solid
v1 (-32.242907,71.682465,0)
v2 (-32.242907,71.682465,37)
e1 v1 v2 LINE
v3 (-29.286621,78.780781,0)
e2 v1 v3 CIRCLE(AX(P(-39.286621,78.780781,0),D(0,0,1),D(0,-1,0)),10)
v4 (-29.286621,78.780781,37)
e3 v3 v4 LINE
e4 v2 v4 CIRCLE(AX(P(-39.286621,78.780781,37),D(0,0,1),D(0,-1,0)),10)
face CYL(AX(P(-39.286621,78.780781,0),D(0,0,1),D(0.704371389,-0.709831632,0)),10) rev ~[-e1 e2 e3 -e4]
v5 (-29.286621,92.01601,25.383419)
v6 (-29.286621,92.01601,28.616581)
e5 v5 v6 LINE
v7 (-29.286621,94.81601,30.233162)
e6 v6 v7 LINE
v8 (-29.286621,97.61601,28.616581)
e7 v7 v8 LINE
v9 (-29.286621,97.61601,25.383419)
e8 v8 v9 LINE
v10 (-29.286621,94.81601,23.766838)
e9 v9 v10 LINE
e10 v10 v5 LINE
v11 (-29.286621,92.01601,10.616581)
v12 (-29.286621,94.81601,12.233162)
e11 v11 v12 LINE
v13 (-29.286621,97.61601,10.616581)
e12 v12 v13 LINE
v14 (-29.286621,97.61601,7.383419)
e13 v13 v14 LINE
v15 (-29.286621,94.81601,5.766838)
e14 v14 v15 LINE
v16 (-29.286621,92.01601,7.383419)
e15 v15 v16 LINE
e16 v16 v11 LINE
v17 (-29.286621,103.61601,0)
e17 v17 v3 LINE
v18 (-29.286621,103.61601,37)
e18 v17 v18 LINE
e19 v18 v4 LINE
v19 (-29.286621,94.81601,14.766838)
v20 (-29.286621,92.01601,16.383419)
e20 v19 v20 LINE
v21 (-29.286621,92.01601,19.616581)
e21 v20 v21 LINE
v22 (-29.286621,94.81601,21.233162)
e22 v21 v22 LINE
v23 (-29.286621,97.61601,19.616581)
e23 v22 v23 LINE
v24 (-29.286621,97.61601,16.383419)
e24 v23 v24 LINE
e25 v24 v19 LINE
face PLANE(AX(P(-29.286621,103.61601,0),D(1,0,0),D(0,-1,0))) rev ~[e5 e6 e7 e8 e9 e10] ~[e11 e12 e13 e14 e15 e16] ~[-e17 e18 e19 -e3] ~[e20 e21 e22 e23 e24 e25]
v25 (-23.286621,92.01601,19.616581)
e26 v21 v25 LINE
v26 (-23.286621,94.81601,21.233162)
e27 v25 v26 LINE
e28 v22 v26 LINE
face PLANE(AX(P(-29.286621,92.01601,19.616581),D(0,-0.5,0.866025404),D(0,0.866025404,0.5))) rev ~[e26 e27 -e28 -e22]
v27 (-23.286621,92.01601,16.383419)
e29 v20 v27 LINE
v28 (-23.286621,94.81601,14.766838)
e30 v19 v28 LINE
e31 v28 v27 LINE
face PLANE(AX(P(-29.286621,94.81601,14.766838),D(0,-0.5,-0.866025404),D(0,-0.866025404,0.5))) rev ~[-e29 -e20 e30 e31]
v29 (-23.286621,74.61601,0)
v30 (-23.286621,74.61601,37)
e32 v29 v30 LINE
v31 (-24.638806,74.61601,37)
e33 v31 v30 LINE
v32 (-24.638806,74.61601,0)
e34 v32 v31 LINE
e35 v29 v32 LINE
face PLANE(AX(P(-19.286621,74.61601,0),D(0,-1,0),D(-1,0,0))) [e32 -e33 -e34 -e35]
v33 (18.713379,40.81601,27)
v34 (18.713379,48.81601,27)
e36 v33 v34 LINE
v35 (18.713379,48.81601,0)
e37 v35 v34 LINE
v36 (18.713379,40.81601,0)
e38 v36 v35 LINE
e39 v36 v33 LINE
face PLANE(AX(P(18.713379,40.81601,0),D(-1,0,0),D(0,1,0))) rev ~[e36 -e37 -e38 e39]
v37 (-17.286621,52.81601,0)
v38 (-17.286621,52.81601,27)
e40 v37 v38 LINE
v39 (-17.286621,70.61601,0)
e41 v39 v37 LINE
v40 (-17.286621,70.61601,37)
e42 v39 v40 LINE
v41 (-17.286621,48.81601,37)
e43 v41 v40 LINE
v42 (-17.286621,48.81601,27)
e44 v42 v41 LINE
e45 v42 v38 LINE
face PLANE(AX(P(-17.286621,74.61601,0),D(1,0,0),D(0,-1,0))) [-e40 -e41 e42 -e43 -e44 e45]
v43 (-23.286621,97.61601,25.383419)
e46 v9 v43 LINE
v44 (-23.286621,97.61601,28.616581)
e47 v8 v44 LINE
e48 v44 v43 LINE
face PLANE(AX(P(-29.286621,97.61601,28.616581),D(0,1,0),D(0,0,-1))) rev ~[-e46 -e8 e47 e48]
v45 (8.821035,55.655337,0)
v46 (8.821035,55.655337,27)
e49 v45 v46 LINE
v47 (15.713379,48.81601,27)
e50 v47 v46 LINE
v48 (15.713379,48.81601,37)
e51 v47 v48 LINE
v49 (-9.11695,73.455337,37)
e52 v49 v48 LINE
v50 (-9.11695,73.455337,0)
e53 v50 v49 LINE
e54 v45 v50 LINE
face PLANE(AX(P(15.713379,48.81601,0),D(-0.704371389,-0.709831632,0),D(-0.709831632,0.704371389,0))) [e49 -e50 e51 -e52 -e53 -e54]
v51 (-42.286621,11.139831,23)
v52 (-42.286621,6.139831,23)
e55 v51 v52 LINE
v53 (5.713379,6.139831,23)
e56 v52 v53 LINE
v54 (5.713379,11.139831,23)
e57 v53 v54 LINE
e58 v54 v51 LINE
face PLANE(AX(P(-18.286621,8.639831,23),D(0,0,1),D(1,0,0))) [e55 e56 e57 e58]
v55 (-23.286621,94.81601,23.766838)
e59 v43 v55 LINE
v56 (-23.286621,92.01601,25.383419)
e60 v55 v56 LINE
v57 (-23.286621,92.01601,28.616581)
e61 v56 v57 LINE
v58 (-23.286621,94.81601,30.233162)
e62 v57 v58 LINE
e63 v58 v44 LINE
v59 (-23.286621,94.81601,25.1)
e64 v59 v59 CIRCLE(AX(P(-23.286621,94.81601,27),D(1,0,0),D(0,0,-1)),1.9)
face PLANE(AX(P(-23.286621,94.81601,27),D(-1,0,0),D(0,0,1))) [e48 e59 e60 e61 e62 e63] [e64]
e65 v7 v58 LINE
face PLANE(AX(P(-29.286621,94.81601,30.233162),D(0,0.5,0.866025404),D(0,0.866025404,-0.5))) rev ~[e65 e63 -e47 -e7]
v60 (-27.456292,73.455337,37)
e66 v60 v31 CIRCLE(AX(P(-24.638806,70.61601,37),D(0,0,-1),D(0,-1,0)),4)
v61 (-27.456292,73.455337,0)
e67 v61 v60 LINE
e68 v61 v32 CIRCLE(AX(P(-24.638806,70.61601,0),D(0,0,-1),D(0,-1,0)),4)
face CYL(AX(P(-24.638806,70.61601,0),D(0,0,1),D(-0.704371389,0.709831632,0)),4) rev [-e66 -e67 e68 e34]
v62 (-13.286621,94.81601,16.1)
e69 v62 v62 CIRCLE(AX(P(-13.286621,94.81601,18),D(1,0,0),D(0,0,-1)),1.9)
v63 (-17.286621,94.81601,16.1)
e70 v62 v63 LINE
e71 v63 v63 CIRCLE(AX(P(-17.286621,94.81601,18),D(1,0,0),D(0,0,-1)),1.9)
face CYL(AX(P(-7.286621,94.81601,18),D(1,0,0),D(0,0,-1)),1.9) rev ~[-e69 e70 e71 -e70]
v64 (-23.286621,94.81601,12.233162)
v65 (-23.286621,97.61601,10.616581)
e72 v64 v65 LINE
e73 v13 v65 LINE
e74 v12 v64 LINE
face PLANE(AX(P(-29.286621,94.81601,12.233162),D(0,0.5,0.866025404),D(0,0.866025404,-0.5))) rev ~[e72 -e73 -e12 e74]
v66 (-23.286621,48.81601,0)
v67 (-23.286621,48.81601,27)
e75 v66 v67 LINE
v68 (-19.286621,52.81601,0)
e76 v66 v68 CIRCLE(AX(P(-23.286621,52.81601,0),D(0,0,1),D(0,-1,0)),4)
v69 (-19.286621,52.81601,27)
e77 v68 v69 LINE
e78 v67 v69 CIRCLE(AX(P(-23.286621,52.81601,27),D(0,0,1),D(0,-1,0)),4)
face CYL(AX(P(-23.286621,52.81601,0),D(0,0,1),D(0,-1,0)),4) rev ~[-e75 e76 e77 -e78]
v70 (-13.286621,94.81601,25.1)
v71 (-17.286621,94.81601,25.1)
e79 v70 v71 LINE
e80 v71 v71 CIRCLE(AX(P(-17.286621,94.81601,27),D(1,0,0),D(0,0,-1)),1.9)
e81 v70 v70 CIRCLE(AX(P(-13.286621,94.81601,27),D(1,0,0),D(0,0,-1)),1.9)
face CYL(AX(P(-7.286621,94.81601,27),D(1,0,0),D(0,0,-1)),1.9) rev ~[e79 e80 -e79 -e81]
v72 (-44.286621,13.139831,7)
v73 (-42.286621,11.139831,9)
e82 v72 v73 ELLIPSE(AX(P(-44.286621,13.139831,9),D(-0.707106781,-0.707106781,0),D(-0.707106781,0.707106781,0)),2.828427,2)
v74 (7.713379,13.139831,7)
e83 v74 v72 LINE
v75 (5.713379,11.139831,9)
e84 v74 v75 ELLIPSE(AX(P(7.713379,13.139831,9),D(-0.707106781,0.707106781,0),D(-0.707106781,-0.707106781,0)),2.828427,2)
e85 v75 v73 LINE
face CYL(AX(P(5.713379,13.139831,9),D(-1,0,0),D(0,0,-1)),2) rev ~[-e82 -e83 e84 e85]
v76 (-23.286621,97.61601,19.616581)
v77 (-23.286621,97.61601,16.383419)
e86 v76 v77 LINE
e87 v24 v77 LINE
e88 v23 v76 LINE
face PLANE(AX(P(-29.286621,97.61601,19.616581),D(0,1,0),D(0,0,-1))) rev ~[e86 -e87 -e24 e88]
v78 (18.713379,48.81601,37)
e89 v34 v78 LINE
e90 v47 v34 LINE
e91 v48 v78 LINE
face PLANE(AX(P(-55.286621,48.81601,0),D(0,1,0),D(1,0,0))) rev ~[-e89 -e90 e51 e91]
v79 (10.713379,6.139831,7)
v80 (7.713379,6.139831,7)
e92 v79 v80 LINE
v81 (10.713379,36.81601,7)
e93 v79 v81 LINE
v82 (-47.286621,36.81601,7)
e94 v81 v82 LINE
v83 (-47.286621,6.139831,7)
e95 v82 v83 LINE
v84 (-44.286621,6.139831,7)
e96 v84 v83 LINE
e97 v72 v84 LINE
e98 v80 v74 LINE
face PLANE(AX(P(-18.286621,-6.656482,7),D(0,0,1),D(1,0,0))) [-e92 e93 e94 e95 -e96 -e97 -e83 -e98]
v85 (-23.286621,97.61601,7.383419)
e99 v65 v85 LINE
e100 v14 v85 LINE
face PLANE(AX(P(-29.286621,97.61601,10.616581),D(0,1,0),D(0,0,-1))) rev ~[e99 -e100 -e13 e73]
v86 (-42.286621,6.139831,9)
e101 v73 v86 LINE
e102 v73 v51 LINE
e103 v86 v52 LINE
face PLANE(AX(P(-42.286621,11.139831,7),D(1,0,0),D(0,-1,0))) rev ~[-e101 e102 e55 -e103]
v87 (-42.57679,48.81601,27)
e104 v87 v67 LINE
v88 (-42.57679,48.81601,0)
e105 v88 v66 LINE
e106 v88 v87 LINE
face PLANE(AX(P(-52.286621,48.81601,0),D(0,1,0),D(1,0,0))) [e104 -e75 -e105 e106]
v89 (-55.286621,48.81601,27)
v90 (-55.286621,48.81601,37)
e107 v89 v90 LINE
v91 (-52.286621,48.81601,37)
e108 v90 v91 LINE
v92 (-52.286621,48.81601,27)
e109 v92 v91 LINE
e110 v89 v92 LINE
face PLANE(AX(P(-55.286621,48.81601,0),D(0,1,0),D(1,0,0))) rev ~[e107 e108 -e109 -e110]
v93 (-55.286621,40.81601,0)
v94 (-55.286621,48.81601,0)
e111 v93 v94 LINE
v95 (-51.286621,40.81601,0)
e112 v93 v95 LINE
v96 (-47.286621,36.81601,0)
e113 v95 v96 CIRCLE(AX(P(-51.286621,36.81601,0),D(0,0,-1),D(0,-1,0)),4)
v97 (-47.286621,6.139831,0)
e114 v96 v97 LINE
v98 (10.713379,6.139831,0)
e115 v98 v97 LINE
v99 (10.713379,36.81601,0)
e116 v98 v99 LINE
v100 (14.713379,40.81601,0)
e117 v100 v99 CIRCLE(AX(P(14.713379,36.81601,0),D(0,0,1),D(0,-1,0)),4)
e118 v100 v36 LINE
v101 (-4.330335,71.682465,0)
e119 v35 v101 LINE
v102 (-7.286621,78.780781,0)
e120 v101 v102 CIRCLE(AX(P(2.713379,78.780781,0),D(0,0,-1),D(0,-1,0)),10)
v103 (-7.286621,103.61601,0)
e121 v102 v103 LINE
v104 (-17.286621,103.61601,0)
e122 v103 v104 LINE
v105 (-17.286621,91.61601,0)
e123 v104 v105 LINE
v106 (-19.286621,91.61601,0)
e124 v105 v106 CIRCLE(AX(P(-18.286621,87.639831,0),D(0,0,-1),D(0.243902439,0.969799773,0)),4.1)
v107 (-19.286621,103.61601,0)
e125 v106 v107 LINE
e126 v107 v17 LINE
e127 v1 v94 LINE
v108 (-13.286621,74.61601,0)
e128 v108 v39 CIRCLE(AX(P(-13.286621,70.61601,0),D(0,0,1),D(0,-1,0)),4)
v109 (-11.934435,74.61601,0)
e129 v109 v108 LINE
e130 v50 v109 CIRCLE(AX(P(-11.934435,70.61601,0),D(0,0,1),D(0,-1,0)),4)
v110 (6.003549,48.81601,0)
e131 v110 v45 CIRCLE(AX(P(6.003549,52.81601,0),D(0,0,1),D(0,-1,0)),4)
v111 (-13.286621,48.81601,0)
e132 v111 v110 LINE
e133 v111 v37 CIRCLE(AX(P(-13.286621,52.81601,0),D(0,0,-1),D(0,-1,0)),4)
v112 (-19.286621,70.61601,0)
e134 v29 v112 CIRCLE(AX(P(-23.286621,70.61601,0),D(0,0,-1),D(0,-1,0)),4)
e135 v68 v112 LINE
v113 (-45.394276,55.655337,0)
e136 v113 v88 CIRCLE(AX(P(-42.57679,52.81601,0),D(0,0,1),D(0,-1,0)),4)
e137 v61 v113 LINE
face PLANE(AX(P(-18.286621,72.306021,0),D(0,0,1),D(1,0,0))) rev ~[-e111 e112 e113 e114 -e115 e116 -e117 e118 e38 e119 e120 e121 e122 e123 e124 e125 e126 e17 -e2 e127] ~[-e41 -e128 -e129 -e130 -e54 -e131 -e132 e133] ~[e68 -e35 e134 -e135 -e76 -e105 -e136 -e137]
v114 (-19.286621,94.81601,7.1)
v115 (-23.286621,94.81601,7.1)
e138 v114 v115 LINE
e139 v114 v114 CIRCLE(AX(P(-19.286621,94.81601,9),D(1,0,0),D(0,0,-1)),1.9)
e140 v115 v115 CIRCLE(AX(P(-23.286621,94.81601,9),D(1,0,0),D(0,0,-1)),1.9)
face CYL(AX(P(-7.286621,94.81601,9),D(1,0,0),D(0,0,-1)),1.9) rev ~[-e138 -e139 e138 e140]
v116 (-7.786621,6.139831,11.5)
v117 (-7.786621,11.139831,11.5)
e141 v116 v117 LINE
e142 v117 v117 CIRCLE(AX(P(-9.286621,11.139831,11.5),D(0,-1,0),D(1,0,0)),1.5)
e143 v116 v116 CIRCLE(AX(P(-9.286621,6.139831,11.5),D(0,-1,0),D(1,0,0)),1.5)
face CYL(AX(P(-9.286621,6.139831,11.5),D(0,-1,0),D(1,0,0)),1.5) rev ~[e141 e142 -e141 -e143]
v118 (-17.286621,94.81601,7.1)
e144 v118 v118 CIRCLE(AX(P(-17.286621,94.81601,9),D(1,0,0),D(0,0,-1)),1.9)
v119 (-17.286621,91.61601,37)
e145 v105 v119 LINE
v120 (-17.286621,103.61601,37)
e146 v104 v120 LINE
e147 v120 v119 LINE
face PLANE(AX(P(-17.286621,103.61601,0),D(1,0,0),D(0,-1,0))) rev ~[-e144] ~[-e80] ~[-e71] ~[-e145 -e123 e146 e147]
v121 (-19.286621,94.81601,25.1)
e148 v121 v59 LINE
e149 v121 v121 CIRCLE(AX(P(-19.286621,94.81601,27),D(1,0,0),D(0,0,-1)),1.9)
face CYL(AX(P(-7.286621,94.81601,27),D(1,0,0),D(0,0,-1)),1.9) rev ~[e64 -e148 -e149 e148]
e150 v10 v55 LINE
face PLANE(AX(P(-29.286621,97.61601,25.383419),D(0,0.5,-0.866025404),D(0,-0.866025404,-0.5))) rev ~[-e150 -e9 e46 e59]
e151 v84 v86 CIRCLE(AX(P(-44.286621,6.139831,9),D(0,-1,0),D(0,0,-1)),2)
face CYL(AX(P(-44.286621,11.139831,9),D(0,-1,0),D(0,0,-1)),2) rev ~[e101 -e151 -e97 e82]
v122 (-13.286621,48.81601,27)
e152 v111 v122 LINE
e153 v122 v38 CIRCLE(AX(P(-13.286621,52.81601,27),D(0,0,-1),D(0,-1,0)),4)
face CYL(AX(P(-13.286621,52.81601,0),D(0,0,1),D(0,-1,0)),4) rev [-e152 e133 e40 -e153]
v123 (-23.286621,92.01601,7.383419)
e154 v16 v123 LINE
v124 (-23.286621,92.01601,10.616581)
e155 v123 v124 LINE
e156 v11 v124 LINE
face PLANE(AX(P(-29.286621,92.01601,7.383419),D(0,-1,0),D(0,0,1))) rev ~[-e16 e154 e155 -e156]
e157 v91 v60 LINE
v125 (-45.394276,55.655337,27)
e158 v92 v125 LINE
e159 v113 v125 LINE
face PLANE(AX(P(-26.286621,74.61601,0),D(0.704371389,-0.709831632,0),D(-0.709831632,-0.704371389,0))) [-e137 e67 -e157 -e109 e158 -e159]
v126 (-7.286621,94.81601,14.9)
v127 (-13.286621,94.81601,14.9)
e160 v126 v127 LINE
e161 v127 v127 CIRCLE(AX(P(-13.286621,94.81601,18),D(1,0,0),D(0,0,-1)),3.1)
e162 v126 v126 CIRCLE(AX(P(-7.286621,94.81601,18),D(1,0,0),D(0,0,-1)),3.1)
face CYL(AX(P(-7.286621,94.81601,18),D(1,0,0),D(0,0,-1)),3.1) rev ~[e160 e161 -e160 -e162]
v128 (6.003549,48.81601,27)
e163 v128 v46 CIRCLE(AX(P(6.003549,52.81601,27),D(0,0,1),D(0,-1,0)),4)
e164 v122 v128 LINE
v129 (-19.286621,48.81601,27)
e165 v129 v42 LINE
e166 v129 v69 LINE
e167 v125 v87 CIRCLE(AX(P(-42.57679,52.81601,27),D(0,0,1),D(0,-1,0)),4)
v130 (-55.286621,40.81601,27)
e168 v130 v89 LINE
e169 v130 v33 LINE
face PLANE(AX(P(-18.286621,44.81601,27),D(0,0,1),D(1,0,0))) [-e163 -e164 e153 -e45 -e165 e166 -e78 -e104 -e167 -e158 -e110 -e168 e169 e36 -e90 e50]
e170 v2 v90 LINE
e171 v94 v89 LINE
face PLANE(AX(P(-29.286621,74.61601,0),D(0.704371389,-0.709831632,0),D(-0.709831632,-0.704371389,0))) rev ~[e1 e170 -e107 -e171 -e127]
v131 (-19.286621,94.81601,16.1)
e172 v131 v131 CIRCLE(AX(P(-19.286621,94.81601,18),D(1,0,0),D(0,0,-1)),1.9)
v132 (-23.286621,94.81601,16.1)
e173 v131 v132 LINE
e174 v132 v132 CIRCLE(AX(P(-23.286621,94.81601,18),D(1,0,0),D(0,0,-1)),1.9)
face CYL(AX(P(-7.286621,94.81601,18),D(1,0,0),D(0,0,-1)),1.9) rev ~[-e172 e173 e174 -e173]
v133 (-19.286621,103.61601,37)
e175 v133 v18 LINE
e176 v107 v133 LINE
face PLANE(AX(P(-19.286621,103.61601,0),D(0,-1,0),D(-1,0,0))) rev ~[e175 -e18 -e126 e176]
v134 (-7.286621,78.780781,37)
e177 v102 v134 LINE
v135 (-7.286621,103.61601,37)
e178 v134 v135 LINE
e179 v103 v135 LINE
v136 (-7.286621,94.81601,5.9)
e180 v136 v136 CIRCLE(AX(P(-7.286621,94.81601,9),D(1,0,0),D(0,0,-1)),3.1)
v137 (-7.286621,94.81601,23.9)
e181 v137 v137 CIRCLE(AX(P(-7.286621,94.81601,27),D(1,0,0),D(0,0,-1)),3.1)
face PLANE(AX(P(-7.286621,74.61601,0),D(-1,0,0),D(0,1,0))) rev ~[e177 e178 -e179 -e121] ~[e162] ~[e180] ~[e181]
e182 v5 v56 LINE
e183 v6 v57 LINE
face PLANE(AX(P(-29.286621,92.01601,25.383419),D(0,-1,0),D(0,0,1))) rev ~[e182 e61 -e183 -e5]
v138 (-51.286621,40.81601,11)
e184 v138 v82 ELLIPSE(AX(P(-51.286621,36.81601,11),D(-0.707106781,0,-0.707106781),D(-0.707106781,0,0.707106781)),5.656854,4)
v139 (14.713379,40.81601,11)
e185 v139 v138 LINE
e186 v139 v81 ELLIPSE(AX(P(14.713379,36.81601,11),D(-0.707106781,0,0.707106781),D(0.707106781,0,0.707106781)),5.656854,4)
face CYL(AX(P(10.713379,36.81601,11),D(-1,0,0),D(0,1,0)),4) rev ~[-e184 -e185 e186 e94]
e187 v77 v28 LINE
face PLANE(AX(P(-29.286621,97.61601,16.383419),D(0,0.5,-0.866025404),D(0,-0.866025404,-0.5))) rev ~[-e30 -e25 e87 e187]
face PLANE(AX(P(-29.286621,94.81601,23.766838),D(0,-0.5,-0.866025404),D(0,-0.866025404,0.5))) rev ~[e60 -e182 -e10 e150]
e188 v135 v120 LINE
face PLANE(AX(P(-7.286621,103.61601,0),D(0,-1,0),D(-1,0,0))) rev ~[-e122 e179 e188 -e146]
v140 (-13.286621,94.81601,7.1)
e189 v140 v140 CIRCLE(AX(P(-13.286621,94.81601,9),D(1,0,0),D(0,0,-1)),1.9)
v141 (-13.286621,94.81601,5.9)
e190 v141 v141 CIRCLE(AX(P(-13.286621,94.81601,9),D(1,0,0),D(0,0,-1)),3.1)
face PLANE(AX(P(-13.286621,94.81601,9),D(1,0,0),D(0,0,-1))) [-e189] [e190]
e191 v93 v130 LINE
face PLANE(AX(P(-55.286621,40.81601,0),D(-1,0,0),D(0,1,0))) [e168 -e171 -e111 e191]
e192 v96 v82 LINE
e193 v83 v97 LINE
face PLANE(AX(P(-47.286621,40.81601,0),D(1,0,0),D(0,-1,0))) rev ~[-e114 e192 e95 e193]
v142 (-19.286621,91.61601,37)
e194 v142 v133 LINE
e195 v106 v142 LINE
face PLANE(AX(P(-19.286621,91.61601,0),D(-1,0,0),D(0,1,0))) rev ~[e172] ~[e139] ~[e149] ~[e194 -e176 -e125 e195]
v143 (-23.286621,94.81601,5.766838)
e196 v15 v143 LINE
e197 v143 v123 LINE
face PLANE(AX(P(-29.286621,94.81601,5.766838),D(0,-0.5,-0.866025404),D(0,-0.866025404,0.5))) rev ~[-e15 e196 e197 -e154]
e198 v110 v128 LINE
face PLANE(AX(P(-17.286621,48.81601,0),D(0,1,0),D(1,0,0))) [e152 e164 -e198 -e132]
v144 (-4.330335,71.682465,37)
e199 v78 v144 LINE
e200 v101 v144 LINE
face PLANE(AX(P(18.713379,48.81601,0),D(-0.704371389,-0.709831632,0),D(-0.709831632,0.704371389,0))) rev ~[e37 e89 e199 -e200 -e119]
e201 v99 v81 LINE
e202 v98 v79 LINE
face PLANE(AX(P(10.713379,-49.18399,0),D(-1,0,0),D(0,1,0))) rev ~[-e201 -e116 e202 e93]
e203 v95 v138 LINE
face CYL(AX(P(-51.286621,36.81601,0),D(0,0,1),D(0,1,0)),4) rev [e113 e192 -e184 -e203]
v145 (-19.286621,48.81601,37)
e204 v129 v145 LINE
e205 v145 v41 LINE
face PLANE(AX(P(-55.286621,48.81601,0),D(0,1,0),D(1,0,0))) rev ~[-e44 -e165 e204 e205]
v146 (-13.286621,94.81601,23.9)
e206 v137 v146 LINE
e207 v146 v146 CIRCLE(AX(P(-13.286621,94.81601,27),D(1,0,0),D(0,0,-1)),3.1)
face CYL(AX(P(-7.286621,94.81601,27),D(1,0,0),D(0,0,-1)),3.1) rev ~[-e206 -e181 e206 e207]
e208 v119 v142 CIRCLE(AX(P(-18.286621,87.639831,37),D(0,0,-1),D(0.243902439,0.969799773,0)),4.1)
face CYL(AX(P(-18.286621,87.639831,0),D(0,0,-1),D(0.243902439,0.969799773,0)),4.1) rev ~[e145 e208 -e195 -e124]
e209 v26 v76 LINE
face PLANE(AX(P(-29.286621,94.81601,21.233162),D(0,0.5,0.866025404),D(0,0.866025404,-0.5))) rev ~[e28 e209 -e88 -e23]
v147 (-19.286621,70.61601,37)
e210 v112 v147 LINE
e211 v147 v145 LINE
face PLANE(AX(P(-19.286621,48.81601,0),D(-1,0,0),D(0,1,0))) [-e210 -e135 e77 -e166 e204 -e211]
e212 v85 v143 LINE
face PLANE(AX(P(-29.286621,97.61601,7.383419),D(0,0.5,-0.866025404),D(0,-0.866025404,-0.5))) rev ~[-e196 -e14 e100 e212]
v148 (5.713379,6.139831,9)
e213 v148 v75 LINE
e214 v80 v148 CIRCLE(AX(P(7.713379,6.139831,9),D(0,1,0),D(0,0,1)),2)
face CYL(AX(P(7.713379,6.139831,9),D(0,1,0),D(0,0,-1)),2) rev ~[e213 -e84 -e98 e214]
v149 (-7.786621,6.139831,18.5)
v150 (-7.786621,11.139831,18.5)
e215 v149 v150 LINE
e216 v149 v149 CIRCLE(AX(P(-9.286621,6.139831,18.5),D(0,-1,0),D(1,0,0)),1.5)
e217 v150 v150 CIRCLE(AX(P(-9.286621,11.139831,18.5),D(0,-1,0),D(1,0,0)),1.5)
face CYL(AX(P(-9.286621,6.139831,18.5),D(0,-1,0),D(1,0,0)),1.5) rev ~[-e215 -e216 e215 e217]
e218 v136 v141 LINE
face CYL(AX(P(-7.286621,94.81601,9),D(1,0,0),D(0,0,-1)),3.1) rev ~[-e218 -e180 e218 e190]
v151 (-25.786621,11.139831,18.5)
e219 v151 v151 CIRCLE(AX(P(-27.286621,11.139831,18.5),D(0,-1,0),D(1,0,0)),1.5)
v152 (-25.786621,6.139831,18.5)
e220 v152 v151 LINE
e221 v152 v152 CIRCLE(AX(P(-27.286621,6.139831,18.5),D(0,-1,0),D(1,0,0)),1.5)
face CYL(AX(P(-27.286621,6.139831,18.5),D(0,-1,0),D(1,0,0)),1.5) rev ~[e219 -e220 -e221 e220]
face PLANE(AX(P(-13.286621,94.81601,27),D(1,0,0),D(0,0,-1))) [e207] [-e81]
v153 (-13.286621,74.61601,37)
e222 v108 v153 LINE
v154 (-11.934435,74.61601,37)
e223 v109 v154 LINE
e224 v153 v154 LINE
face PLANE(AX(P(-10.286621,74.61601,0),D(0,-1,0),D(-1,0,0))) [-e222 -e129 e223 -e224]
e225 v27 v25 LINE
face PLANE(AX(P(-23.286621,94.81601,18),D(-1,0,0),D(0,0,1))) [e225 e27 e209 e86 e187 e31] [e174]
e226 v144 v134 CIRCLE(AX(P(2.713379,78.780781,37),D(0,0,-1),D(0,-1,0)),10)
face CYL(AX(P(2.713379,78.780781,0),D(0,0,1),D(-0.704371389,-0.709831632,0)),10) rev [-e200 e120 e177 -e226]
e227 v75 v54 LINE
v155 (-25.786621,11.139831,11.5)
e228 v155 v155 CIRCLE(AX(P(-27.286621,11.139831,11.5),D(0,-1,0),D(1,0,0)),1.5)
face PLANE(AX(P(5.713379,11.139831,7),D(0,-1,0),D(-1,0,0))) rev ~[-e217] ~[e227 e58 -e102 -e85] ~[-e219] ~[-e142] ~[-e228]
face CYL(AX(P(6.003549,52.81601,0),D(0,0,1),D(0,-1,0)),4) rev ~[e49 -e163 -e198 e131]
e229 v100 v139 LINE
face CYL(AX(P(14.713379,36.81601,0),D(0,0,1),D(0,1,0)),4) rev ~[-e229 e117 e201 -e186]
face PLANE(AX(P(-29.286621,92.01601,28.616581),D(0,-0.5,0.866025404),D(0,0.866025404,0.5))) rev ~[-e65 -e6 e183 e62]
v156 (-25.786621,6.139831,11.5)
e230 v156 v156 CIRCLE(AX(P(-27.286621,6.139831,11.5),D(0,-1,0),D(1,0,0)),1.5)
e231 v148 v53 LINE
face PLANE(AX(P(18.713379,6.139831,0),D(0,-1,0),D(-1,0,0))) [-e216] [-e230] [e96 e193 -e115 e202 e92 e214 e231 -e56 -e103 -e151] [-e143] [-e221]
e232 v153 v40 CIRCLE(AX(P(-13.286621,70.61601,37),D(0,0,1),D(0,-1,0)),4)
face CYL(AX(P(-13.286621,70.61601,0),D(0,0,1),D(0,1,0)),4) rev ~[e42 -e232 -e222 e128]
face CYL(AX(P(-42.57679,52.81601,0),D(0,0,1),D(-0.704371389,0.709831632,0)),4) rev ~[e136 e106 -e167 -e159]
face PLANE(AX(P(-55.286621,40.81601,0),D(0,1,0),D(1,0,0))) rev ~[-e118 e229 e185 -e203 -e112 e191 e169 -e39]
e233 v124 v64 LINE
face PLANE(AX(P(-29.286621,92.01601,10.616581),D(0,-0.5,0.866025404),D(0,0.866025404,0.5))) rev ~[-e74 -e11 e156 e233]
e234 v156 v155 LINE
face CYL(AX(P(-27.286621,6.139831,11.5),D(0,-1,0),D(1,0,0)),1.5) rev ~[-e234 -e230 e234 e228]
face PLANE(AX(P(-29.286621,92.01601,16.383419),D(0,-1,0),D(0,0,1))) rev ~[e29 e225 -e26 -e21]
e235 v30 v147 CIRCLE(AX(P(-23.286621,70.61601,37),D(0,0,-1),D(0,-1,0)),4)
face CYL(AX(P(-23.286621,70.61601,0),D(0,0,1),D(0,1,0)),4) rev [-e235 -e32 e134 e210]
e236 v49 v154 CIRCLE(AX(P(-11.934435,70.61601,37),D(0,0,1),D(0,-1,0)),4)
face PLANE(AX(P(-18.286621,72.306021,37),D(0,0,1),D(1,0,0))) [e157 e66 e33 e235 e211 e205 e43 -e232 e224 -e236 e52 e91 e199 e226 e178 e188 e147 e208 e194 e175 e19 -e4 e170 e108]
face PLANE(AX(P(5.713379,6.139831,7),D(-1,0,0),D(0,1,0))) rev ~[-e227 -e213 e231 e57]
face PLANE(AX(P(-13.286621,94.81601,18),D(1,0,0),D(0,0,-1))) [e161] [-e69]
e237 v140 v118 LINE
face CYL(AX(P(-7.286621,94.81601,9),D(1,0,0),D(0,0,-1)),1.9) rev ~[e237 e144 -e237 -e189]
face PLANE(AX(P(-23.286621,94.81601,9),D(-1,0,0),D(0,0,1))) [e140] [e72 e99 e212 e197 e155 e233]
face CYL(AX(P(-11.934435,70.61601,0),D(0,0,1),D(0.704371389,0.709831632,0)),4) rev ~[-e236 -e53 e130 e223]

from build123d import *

# Parameters (mm, degrees)
SALIENTE_EXTRUIR1_DEPTH    = 7
CROQUIS2_7_W               = 74
CROQUIS2_7_H               = 8
SALIENTE_EXTRUIR3_DEPTH    = 27
SALIENTE_EXTRUIR5_DEPTH    = 37
CROQUIS10_R                = 1.9
CORTAR_EXTRUIR3_DEPTH      = 22
CROQUIS11_R                = 3.1
CORTAR_EXTRUIR4_DEPTH      = 6
CORTAR_EXTRUIR5_DEPTH      = 6
CORTAR_EXTRUIR6_START      = -7
CORTAR_EXTRUIR6_DEPTH      = 7
SALIENTE_EXTRUIR6_DEPTH    = 16
CROQUIS18_R                = 1.5
CORTAR_EXTRUIR8_DEPTH      = 10
CORTAR_EXTRUIR9_DEPTH      = 124.133618358
CORTAR_EXTRUIR9_DEPTH_BACK = 37
REDONDEO1_R                = 4
REDONDEO2_R                = 4
REDONDEO3_R                = 2
REDONDEO5_R                = 10


with BuildPart() as part:
    # Croquis2 → Saliente-Extruir1 (new body)
    with BuildSketch(Plane.XY):
        with BuildLine():
            Line((-47.286620614, 40.816010109), (-47.286620614, -49.183989891))
            ThreePointArc((-47.286620614, -49.183989891), (-45.236368082, -54.133737359), (-40.286620614, -56.183989891))
            Line((-40.286620614, -56.183989891), (3.713379386, -56.183989891))
            ThreePointArc((3.713379386, -56.183989891), (8.663126854, -54.133737359), (10.713379386, -49.183989891))
            Line((10.713379386, -49.183989891), (10.713379386, 40.816010109))
            Line((10.713379386, 40.816010109), (-47.286620614, 40.816010109))
        make_face()
    extrude(amount=SALIENTE_EXTRUIR1_DEPTH)

    # Croquis2<7> → Saliente-Extruir3 (add)
    with BuildSketch(Plane.XY):
        with Locations((-18.286620614, 44.816010109)):
            Rectangle(CROQUIS2_7_W, CROQUIS2_7_H)
    extrude(amount=SALIENTE_EXTRUIR3_DEPTH)

    # Croquis2<14> → Saliente-Extruir5 (add)
    with BuildSketch(Plane.XY):
        with BuildLine():
            Line((-55.286620614, 48.816010109), (-30.786620614, 48.816010109))
            Line((-30.786620614, 48.816010109), (-5.786620614, 48.816010109))
            Line((-5.786620614, 48.816010109), (18.713379386, 48.816010109))
            Line((18.713379386, 48.816010109), (-7.286620614, 74.616010109))
            Line((-7.286620614, 74.616010109), (-7.286620614, 103.616010109))
            Line((-7.286620614, 103.616010109), (-17.286620614, 103.616010109))
            Line((-17.286620614, 103.616010109), (-17.286620614, 91.616010109))
            ThreePointArc((-17.286620614, 91.616010109), (-18.286620614, 83.539831039), (-19.286620614, 91.616010109))
            Line((-19.286620614, 91.616010109), (-19.286620614, 103.616010109))
            Line((-19.286620614, 103.616010109), (-29.286620614, 103.616010109))
            Line((-29.286620614, 103.616010109), (-29.286620614, 74.616010109))
            Line((-29.286620614, 74.616010109), (-55.286620614, 48.816010109))
        make_face()
    extrude(amount=SALIENTE_EXTRUIR5_DEPTH)

    # Croquis10 → Cortar-Extruir3 (cut)
    with BuildSketch(Plane(origin=(-7.286620614, 0, 0), x_dir=(0, 0, -1), z_dir=(1, 0, 0))):
        with Locations((-9, 94.816010109)):
            Circle(CROQUIS10_R)
        with Locations((-18, 94.816010109)):
            Circle(CROQUIS10_R)
        with Locations((-27, 94.816010109)):
            Circle(CROQUIS10_R)
    extrude(amount=-CORTAR_EXTRUIR3_DEPTH, mode=Mode.SUBTRACT)

    # Croquis11 → Cortar-Extruir4 (cut)
    with BuildSketch(Plane(origin=(-7.286620614, 0, 0), x_dir=(0, 0, -1), z_dir=(1, 0, 0))):
        with Locations((-27, 94.816010109)):
            Circle(CROQUIS11_R)
        with Locations((-18, 94.816010109)):
            Circle(CROQUIS11_R)
        with Locations((-9, 94.816010109)):
            Circle(CROQUIS11_R)
    extrude(amount=-CORTAR_EXTRUIR4_DEPTH, mode=Mode.SUBTRACT)

    # Croquis12 → Cortar-Extruir5 (cut)
    with BuildSketch(Plane.ZY.offset(29.286620614)):
        Polygon((21.233161507, 94.816010109), (19.616580754, 97.616010109), (16.383419246, 97.616010109), (14.766838493, 94.816010109), (16.383419246, 92.016010109), (19.616580754, 92.016010109), align=None)
        Polygon((12.233161507, 94.816010109), (10.616580754, 97.616010109), (7.383419246, 97.616010109), (5.766838493, 94.816010109), (7.383419246, 92.016010109), (10.616580754, 92.016010109), align=None)
        Polygon((30.233161507, 94.816010109), (28.616580754, 97.616010109), (25.383419246, 97.616010109), (23.766838493, 94.816010109), (25.383419246, 92.016010109), (28.616580754, 92.016010109), align=None)
    extrude(amount=-CORTAR_EXTRUIR5_DEPTH, mode=Mode.SUBTRACT)

    # Croquis17 → Cortar-Extruir6 (cut)
    with BuildSketch(Plane.XY.offset(7).offset(CORTAR_EXTRUIR6_START)):
        with BuildLine():
            Line((-55.286620614, 6.139831039), (-55.286620614, -5.183989891))
            Line((-55.286620614, -5.183989891), (-47.286620614, -5.183989891))
            Line((-47.286620614, -5.183989891), (-47.286620614, -49.183989891))
            ThreePointArc((-47.286620614, -49.183989891), (-45.236368082, -54.133737359), (-40.286620614, -56.183989891))
            Line((-40.286620614, -56.183989891), (3.713379386, -56.183989891))
            ThreePointArc((3.713379386, -56.183989891), (8.663126854, -54.133737359), (10.713379386, -49.183989891))
            Line((10.713379386, -49.183989891), (10.713379386, -5.183989891))
            Line((10.713379386, -5.183989891), (18.713379386, -5.183989891))
            Line((18.713379386, -5.183989891), (18.713379386, 6.139831039))
            Line((18.713379386, 6.139831039), (-55.286620614, 6.139831039))
        make_face()
    extrude(amount=CORTAR_EXTRUIR6_DEPTH, mode=Mode.SUBTRACT)

    # Croquis17<5> → Saliente-Extruir6 (add)
    with BuildSketch(Plane.XY.offset(7)):
        Polygon((-42.286620614, 6.139831039), (-18.286620614, 6.139831039), (5.713379386, 6.139831039), (5.713379386, 11.139831039), (-42.286620614, 11.139831039), align=None)
    extrude(amount=SALIENTE_EXTRUIR6_DEPTH)

    # Croquis18 → Cortar-Extruir8 (cut)
    with BuildSketch(Plane.XZ.offset(-6.139831039)):
        with Locations((-27.286620614, 18.5)):
            Circle(CROQUIS18_R)
        with Locations((-9.286620614, 18.5)):
            Circle(CROQUIS18_R)
        with Locations((-27.286620614, 11.5)):
            Circle(CROQUIS18_R)
        with Locations((-9.286620614, 11.5)):
            Circle(CROQUIS18_R)
    extrude(amount=-CORTAR_EXTRUIR8_DEPTH, mode=Mode.SUBTRACT)

    # Croquis19 → Cortar-Extruir9 (cut, two sides: drawn at the far end of the back side and taken through both)
    with BuildSketch(Plane.XY.offset(37).offset(-CORTAR_EXTRUIR9_DEPTH_BACK)):
        Polygon((-52.286620614, 48.816010109), (-19.286620614, 48.816010109), (-19.286620614, 74.616010109), (-26.286620614, 74.616010109), align=None)
        Polygon((-17.286620614, 74.616010109), (-17.286620614, 48.816010109), (15.713379386, 48.816010109), (-10.286620614, 74.616010109), align=None)
    extrude(amount=CORTAR_EXTRUIR9_DEPTH + CORTAR_EXTRUIR9_DEPTH_BACK, mode=Mode.SUBTRACT)

    # Redondeo1
    redondeo1_edges = [part.edges().sort_by_distance(p)[0] for p in [
        (-19.286620614, 48.816010109, 13.5),
        (15.713379386, 48.816010109, 13.5),
        (-17.286620614, 74.616010109, 18.5),
        (-10.286620614, 74.616010109, 18.5),
        (-19.286620614, 74.616010109, 18.5),
        (-26.286620614, 74.616010109, 18.5),
        (-17.286620614, 48.816010109, 13.5),
        (-52.286620614, 48.816010109, 13.5),
    ]]
    fillet(redondeo1_edges, radius=REDONDEO1_R)

    # Redondeo2
    redondeo2_edges = [part.edges().sort_by_distance(p)[0] for p in [
        (-47.286620614, 40.816010109, 3.5),
        (10.713379386, 40.816010109, 3.5),
        (-18.286620614, 40.816010109, 7),
    ]]
    fillet(redondeo2_edges, radius=REDONDEO2_R)

    # Redondeo3
    redondeo3_edges = [part.edges().sort_by_distance(p)[0] for p in [
        (-18.286620614, 11.139831039, 7),
        (5.713379386, 8.639831039, 7),
        (-42.286620614, 8.639831039, 7),
    ]]
    fillet(redondeo3_edges, radius=REDONDEO3_R)

    # Redondeo5
    redondeo5_edges = [part.edges().sort_by_distance(p)[0] for p in [
        (-7.286620614, 74.616010109, 18.5),
        (-29.286620614, 74.616010109, 18.5),
    ]]
    fillet(redondeo5_edges, radius=REDONDEO5_R)


solid = part.part
